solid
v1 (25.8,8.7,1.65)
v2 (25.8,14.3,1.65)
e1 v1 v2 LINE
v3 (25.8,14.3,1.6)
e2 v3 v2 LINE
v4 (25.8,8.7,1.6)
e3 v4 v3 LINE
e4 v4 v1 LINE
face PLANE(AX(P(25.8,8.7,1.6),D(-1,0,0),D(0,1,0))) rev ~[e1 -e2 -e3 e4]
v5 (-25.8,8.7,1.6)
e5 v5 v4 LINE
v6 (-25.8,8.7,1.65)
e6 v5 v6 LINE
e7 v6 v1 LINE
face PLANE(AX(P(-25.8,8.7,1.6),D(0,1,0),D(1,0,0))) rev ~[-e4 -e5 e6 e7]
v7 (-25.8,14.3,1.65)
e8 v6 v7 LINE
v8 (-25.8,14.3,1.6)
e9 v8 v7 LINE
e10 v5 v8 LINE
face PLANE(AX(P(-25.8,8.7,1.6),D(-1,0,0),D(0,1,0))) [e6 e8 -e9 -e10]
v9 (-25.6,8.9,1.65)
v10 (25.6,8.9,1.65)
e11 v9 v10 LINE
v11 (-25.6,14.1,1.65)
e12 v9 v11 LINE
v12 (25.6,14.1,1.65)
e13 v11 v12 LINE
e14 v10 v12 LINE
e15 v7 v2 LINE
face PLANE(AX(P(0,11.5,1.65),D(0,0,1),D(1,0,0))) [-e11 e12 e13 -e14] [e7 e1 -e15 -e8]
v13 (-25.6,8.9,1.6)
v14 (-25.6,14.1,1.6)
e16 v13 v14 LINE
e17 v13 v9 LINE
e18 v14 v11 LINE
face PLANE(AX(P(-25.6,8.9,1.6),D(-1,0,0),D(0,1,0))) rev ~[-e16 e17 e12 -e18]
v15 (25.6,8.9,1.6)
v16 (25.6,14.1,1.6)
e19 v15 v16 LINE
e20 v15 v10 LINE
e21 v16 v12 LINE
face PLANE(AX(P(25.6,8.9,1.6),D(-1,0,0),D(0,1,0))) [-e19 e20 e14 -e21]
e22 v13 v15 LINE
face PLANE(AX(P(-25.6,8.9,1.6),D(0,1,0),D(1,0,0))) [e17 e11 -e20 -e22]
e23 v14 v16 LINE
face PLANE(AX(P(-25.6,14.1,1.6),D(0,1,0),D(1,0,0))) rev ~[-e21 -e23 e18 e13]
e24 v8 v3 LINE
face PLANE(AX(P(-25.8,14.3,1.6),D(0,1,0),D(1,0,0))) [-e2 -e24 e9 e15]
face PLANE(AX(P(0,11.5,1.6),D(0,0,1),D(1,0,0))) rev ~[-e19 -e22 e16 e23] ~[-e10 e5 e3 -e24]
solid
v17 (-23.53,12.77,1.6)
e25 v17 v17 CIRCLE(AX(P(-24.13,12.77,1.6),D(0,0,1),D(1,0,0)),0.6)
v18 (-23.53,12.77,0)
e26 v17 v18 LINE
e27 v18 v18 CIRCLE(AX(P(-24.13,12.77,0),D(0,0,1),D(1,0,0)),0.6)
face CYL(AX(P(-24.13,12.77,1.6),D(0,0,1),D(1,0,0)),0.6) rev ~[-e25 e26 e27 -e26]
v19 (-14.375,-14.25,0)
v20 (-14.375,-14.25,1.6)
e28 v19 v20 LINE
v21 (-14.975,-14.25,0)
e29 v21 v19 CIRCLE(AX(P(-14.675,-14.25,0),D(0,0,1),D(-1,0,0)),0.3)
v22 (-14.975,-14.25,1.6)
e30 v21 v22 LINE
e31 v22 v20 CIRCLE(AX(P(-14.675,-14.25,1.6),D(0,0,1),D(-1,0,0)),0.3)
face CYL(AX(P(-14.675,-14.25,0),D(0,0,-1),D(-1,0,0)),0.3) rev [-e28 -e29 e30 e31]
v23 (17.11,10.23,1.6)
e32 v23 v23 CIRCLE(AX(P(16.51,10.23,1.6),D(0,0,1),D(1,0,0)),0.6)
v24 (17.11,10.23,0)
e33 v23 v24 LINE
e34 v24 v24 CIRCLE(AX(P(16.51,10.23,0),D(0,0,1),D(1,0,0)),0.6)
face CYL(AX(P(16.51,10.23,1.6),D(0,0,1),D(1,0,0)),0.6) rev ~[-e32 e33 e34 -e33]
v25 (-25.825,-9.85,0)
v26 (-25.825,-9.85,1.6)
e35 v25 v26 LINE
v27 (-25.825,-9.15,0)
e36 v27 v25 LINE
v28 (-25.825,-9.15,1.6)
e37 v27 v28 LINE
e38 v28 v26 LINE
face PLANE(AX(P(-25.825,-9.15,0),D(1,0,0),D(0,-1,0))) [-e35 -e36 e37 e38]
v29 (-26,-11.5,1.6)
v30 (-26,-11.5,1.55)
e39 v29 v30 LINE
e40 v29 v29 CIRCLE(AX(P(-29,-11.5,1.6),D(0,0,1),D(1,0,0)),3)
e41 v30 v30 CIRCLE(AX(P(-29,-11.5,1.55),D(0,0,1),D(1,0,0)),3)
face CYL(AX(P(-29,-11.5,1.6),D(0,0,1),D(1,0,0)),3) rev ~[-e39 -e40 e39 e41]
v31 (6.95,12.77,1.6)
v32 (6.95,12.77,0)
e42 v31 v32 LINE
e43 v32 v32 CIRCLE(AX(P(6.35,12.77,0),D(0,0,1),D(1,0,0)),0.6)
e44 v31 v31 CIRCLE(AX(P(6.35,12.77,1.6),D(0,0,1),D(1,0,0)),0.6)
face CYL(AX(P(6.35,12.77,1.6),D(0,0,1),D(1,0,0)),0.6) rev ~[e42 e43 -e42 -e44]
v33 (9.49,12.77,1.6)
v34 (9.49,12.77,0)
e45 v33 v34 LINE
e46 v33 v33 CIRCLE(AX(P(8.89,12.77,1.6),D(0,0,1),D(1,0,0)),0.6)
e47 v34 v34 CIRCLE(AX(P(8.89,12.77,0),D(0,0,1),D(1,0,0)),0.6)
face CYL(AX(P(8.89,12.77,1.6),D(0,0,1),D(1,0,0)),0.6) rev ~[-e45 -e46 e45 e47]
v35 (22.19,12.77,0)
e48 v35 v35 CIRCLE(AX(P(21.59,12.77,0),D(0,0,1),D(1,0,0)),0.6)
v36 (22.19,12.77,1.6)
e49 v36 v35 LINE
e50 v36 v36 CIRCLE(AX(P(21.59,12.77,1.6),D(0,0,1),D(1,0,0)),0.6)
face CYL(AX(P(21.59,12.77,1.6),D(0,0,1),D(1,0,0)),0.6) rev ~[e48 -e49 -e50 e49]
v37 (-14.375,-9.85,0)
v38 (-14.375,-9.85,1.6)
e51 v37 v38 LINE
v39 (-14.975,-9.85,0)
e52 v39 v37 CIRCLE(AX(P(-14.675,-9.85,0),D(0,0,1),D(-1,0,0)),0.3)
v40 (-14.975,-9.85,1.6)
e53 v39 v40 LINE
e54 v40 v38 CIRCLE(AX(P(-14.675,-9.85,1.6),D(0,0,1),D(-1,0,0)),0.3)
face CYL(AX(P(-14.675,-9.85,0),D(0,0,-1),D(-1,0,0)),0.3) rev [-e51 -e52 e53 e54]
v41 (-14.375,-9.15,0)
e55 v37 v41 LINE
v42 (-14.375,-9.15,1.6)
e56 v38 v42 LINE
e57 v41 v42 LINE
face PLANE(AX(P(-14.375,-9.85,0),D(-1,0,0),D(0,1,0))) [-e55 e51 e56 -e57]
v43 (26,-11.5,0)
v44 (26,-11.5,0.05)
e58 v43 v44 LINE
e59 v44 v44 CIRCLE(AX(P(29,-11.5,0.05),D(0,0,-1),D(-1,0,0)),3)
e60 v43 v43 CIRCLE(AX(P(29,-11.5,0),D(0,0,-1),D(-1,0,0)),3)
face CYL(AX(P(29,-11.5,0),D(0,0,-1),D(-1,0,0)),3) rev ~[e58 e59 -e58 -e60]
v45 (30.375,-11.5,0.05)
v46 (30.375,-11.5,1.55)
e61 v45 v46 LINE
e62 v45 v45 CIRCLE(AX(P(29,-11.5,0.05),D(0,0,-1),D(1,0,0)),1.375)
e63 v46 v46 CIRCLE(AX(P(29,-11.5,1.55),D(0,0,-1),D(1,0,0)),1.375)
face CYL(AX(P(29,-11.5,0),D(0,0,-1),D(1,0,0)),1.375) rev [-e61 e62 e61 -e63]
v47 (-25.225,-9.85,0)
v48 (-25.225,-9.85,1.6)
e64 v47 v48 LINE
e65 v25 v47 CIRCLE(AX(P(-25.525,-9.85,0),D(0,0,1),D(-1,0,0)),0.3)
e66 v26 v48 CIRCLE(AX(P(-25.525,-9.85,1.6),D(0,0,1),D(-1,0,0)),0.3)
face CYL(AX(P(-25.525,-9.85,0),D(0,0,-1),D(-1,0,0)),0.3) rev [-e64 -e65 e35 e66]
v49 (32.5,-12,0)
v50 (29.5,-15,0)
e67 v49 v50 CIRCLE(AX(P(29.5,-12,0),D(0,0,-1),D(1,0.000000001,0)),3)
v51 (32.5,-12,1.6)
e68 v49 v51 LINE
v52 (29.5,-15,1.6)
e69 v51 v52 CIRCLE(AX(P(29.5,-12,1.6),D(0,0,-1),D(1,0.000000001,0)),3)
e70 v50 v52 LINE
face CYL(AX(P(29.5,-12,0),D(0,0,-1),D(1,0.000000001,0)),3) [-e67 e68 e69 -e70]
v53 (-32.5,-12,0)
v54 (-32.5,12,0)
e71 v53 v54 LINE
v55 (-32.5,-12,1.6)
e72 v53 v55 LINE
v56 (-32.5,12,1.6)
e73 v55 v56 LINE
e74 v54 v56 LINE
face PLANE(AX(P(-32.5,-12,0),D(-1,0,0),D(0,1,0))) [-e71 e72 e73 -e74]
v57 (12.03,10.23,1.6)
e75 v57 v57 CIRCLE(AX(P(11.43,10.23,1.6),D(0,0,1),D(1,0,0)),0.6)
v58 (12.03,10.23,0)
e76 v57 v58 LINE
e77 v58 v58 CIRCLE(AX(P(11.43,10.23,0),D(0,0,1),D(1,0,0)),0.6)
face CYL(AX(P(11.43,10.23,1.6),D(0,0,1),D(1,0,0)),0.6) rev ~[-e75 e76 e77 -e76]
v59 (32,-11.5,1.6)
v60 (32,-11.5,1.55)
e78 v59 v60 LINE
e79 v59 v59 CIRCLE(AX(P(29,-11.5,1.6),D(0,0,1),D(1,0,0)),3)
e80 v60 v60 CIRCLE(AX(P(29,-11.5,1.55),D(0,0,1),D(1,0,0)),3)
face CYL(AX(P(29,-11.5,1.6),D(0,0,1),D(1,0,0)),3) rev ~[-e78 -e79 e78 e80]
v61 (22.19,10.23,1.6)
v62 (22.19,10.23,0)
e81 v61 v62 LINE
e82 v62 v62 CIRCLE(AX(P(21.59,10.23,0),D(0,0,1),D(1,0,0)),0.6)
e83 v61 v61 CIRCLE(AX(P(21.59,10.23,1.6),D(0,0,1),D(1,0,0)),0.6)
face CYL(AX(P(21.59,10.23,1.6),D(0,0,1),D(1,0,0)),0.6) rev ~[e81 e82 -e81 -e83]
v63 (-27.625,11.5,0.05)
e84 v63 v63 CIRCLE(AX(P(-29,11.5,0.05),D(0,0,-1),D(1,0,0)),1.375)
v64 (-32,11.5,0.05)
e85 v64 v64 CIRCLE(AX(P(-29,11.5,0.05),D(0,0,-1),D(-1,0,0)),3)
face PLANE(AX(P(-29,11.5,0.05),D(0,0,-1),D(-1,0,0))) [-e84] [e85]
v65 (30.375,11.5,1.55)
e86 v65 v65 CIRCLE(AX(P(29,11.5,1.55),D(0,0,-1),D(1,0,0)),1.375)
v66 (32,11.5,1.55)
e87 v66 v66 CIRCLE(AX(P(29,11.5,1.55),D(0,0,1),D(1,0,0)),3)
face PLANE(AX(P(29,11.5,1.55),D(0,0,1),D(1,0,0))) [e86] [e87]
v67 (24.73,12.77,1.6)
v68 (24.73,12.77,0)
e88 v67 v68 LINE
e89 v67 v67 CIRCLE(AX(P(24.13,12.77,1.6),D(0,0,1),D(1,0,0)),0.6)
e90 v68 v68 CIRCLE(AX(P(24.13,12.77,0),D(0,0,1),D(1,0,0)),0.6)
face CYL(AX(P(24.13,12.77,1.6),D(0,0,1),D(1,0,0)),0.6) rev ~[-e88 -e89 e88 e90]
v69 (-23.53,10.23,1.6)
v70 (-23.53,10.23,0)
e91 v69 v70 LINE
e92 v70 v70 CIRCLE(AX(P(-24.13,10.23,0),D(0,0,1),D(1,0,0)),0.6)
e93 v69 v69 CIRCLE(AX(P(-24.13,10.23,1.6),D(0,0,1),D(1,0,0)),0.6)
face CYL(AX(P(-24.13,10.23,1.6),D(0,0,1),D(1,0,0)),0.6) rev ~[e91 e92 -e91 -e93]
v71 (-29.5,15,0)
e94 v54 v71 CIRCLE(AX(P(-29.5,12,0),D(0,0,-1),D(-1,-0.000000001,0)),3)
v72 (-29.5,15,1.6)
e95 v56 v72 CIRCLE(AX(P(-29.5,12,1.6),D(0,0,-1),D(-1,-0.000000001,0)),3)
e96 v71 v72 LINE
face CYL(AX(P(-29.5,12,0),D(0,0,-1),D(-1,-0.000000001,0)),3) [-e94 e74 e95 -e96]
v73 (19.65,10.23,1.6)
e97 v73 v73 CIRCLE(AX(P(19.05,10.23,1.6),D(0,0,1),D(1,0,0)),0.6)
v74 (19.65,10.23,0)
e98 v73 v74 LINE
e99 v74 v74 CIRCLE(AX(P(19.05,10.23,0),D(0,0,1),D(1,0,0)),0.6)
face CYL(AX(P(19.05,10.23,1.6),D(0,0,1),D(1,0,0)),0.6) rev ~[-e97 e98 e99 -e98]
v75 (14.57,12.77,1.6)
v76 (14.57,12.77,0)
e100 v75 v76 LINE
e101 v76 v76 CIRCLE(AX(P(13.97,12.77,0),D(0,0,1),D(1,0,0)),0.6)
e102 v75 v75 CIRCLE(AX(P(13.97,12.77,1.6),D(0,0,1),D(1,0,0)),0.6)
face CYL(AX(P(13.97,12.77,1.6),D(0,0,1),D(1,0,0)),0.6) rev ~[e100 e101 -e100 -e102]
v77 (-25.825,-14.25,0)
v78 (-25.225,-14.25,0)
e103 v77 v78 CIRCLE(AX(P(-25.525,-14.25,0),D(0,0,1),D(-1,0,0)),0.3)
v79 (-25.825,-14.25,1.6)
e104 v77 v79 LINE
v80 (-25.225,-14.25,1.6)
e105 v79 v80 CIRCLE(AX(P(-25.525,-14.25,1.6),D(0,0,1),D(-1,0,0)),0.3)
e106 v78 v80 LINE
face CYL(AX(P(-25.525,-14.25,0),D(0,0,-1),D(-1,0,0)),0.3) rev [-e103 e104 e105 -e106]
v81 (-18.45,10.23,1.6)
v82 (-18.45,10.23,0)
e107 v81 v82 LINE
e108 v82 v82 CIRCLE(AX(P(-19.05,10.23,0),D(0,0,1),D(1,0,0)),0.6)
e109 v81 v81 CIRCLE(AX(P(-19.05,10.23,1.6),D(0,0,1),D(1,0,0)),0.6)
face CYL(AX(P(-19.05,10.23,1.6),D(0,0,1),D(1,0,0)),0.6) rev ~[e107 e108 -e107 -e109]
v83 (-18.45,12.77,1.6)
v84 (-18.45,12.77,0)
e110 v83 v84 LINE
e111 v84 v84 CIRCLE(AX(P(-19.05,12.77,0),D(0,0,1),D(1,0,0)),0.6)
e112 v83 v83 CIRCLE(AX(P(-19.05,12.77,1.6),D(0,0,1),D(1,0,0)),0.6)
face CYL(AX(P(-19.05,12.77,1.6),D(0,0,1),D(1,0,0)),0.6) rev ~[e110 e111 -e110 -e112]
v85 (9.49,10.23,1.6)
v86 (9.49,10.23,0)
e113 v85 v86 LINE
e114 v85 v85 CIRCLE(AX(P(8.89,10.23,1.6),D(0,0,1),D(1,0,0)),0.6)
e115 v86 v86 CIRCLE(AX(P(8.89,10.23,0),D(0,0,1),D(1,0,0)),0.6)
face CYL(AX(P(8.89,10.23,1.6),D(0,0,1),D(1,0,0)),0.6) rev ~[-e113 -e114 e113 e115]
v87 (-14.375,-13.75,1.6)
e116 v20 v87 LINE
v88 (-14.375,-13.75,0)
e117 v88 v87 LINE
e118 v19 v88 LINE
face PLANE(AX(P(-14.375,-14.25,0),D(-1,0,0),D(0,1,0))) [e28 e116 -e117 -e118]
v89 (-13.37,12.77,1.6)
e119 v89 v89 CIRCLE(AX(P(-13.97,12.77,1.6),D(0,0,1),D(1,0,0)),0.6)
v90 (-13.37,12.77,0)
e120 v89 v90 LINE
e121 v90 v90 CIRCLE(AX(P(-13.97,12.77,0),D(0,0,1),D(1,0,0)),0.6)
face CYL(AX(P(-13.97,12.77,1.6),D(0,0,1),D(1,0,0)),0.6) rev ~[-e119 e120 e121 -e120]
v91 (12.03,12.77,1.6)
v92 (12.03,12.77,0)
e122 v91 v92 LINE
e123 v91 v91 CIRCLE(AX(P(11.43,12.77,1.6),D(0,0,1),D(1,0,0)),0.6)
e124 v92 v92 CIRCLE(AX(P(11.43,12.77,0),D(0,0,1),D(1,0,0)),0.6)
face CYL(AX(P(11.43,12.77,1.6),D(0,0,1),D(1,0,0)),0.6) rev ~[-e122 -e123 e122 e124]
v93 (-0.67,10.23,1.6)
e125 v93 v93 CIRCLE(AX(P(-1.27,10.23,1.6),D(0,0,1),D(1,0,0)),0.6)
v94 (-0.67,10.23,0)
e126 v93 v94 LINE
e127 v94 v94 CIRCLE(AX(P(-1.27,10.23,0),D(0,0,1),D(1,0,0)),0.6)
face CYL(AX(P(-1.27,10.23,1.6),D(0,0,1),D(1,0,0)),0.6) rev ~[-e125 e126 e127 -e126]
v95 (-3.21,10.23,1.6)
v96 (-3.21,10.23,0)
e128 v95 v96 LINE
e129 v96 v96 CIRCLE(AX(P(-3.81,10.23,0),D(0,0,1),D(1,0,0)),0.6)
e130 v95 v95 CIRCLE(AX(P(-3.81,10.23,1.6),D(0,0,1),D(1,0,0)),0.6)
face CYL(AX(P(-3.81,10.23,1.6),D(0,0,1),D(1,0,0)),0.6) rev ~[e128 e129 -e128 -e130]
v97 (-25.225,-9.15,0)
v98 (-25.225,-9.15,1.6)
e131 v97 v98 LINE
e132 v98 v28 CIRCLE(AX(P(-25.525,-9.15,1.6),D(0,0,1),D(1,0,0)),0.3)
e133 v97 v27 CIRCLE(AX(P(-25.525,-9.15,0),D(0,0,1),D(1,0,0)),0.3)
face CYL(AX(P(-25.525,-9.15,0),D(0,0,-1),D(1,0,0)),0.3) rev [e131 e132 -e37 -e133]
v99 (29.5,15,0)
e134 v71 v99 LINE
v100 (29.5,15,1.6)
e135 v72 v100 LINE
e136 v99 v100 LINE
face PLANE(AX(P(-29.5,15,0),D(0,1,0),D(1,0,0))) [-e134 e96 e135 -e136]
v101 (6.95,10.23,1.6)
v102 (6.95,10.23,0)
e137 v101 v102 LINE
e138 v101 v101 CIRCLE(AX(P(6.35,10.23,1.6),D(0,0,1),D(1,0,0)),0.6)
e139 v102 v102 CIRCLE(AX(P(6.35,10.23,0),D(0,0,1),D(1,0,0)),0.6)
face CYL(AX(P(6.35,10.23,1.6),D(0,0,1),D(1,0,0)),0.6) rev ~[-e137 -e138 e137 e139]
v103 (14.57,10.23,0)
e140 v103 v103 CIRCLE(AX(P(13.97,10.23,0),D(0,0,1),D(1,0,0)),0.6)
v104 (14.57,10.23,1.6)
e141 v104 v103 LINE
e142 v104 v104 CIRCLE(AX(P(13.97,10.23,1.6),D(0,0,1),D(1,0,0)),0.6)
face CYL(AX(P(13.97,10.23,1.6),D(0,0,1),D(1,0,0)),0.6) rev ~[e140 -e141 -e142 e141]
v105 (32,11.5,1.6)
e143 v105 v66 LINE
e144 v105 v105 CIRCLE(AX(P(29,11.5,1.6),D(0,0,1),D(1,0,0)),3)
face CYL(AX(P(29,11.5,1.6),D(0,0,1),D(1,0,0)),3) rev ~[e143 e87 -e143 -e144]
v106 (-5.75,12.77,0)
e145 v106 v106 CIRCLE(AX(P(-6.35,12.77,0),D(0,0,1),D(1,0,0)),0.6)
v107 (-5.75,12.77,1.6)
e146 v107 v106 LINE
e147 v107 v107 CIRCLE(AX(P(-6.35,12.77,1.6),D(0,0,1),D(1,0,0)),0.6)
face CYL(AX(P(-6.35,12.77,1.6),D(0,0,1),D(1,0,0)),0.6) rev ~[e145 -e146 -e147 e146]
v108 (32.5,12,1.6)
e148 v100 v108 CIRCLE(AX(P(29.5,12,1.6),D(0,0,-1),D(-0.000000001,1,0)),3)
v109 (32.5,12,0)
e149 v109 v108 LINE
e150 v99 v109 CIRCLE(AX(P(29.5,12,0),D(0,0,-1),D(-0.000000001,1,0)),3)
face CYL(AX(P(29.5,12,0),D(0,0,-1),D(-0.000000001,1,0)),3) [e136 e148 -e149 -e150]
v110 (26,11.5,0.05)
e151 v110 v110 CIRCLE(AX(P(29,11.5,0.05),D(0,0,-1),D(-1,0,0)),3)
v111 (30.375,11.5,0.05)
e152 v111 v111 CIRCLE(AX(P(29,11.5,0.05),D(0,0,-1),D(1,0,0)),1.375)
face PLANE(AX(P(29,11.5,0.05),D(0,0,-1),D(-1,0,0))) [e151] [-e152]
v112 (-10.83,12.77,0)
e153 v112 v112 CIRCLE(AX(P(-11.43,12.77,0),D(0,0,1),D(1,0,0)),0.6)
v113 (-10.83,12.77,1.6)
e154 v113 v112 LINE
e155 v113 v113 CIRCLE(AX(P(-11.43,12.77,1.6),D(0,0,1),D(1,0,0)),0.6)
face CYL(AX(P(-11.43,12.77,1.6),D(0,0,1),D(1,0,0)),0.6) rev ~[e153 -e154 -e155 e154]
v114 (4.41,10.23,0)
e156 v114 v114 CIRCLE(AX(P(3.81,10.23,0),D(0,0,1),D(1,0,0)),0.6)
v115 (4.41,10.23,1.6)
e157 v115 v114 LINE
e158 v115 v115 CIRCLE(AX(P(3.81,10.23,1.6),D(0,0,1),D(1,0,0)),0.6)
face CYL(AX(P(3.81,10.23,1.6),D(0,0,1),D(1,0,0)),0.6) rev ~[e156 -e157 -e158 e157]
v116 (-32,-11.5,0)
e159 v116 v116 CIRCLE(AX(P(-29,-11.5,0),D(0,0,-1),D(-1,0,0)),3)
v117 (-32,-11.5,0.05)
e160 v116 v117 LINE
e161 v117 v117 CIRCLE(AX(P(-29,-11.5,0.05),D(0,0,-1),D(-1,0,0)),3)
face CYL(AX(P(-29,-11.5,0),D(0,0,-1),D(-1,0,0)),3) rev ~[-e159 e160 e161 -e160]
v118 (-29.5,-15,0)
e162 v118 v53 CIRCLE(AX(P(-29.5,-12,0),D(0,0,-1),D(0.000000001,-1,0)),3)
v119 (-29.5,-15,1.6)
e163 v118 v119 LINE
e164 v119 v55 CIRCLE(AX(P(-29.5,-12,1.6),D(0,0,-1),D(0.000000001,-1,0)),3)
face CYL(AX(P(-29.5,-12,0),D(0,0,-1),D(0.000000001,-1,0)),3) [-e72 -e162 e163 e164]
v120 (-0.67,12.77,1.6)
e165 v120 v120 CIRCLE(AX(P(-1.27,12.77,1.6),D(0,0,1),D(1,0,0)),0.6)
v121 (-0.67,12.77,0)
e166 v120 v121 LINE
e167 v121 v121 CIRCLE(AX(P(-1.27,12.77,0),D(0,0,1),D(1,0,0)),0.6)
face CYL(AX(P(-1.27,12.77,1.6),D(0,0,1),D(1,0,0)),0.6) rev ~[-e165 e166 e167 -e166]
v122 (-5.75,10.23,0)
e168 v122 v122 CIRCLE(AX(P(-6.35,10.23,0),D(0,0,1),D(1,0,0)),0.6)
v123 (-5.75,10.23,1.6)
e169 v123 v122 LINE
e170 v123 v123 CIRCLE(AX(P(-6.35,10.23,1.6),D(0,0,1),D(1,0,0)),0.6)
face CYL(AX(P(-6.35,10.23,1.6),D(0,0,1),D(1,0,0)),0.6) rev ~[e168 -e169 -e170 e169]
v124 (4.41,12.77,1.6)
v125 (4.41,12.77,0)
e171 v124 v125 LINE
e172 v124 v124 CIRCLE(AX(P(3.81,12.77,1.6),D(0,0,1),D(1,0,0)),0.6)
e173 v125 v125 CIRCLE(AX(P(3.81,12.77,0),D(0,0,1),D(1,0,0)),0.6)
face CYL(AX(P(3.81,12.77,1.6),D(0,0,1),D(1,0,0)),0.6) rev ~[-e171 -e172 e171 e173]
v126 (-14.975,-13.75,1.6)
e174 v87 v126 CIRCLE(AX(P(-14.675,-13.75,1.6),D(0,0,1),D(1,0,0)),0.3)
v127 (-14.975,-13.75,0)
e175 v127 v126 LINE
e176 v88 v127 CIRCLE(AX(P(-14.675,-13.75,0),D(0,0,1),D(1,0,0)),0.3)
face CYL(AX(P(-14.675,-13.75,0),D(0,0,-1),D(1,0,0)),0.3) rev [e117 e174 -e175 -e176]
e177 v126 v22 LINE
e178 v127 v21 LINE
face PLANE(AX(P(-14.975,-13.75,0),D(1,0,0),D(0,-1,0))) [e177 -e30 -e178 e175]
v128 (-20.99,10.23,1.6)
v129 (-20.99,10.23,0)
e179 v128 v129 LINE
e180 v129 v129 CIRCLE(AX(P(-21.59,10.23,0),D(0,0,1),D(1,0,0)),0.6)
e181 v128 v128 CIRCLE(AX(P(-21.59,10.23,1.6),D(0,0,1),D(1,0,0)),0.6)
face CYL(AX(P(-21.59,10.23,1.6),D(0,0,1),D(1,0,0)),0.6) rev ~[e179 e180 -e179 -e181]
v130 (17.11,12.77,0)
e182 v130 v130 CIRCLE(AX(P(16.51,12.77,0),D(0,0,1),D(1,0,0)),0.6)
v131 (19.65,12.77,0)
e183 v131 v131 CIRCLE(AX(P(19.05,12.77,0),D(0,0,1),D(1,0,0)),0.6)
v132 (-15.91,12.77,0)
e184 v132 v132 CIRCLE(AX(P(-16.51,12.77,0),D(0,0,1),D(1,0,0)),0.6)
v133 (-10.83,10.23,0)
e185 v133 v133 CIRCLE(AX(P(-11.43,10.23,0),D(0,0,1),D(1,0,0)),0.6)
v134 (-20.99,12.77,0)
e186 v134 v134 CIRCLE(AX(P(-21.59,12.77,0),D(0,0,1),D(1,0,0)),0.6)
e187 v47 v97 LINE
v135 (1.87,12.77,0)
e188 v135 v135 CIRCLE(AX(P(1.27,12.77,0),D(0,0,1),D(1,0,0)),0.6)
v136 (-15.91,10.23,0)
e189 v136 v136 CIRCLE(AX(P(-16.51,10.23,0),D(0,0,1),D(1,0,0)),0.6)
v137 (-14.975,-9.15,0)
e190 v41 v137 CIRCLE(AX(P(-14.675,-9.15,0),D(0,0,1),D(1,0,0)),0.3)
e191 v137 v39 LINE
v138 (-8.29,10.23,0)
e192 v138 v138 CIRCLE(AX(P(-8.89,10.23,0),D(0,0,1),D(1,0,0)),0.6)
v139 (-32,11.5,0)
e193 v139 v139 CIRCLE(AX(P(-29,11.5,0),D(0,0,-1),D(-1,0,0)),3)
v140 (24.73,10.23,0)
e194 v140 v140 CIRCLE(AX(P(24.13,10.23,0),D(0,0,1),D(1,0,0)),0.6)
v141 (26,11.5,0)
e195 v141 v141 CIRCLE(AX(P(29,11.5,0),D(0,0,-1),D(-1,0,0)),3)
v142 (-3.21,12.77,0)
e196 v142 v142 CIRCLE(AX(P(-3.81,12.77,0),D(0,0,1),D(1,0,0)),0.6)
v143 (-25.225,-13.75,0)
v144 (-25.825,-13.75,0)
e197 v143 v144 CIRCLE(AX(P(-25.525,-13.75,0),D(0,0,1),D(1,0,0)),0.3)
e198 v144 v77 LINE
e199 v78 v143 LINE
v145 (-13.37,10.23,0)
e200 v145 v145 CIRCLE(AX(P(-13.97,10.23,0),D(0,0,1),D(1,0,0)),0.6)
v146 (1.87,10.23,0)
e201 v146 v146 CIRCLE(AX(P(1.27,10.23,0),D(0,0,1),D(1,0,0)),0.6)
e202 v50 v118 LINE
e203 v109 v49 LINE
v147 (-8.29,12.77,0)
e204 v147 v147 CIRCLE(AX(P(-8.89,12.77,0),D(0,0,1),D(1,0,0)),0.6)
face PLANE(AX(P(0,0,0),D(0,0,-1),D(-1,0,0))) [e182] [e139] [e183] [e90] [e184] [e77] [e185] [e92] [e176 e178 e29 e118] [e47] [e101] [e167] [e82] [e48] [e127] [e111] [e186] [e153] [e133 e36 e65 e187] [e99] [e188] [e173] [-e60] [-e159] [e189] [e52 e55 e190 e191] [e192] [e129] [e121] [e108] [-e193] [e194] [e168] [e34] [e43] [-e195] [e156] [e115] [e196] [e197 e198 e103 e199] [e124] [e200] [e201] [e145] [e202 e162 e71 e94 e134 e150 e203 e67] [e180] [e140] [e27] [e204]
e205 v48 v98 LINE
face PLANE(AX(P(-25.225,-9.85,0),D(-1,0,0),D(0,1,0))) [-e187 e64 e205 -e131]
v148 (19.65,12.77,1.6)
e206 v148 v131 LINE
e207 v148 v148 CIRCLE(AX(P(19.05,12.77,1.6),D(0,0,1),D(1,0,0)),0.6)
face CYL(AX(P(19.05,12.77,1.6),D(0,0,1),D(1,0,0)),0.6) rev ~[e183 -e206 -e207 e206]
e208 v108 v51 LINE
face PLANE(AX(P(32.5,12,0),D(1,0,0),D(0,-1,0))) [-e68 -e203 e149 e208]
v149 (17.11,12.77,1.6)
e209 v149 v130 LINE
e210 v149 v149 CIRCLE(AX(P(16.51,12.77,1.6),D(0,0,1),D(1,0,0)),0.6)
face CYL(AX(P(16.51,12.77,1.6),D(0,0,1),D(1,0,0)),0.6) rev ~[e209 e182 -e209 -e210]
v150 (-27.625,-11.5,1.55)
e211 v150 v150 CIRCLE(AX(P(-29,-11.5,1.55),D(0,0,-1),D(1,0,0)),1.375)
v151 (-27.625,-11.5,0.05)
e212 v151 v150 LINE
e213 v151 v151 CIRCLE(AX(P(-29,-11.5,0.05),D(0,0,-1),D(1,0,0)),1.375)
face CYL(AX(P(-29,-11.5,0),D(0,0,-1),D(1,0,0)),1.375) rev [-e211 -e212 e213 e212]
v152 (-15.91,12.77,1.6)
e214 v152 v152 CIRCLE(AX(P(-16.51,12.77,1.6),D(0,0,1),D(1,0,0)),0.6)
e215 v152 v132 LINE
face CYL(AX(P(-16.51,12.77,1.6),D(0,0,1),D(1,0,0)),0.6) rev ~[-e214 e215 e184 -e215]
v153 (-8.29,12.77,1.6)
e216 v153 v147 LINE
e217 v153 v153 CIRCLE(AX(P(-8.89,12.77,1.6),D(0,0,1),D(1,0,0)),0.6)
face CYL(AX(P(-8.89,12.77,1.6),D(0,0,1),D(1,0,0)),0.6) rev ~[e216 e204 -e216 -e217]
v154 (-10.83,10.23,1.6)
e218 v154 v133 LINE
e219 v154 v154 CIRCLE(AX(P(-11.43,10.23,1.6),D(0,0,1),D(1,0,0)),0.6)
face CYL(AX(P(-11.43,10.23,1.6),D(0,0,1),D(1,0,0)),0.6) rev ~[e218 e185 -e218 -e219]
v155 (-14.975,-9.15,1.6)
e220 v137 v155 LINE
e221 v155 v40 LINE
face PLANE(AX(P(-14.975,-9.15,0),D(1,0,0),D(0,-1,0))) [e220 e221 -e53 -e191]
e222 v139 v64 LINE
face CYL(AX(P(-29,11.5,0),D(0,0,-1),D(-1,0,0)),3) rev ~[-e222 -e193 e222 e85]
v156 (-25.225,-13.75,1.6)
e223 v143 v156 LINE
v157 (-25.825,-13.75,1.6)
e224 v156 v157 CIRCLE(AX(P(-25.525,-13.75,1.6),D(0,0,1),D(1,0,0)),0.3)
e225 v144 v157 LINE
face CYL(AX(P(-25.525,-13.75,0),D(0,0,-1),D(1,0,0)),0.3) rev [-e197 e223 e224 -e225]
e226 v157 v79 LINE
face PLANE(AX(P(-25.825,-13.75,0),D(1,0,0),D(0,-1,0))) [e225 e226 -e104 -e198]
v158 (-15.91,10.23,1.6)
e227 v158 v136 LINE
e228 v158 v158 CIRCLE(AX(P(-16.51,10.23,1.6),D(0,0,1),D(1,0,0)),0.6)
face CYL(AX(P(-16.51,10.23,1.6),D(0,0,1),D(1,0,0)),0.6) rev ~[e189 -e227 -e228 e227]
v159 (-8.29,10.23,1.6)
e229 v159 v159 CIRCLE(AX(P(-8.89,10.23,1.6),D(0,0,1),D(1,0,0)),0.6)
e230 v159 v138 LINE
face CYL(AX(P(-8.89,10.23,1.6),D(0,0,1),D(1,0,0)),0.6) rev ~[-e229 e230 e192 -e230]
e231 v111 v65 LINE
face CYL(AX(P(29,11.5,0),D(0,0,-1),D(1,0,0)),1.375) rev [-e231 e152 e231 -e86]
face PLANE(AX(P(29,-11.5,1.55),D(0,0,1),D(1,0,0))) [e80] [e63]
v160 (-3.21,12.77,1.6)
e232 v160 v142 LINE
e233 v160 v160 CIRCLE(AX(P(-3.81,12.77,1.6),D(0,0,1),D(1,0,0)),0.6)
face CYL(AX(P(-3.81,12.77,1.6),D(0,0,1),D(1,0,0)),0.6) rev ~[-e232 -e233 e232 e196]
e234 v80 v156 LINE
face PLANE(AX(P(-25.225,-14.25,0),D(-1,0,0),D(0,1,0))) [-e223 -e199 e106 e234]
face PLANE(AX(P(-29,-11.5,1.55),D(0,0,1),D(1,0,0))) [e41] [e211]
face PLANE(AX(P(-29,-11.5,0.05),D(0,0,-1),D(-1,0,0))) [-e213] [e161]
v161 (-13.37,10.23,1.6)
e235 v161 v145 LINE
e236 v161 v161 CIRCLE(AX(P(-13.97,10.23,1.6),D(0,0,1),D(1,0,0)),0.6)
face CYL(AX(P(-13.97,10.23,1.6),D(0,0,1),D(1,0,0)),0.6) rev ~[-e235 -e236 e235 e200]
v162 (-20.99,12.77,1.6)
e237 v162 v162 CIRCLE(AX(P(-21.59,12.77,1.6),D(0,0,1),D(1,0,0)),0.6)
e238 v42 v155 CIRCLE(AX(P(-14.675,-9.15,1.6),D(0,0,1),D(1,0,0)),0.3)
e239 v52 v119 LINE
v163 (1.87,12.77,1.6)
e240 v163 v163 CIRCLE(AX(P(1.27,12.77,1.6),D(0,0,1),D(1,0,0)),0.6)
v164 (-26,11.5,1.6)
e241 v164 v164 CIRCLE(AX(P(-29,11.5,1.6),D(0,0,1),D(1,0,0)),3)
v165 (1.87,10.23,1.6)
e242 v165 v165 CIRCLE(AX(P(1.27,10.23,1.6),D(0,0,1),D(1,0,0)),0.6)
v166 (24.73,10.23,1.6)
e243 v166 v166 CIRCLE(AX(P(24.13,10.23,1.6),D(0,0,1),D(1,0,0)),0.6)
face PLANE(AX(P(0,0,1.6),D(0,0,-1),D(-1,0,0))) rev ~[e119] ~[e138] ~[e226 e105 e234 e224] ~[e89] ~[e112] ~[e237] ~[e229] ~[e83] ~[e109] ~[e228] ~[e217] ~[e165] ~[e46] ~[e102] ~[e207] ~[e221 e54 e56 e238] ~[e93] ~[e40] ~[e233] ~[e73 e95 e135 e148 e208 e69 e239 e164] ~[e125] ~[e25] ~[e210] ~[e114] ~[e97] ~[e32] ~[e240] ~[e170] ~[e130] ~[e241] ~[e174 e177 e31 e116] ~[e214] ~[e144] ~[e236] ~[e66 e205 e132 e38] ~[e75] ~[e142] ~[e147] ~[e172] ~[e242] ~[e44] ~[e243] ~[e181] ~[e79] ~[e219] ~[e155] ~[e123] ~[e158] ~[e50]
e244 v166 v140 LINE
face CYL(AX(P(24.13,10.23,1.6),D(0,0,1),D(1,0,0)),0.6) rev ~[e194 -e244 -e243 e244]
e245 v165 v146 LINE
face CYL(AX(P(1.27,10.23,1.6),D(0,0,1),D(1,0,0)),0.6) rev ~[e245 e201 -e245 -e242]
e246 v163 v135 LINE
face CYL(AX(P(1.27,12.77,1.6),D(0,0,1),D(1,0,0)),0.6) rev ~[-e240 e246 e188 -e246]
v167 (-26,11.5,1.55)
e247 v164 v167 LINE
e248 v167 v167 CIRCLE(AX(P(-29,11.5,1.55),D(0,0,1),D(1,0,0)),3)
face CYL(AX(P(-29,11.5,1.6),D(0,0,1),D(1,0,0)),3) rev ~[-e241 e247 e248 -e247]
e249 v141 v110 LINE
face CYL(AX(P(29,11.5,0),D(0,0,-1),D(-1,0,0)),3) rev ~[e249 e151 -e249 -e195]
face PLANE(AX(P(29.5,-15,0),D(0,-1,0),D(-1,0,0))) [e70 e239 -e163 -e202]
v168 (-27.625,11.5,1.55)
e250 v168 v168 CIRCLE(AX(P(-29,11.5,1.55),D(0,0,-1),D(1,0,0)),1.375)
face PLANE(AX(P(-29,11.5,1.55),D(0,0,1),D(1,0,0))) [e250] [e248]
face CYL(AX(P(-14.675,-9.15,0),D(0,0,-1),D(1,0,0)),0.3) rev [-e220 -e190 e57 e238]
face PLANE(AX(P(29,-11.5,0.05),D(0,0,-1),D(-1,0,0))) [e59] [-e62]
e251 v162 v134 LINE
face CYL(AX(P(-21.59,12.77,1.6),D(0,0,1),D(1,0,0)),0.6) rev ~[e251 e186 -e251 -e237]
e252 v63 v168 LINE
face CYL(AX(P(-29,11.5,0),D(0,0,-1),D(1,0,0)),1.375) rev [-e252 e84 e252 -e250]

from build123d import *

# Parameters (mm, degrees)
SKETCH1_R           = 1.375
BOSS_EXTRUDE1_DEPTH = 1.6
SKETCH2_W           = 51.6
SKETCH2_H           = 5.6
SKETCH2_W_2         = 51.2
SKETCH2_H_2         = 5.2
EXTRUDE_THIN1_DEPTH = 0.05
SKETCH3_R           = 0.6
CUT_EXTRUDE1_DEPTH  = 1.6
SKETCH4_R           = 3
CUT_EXTRUDE2_DEPTH  = 0.05
SKETCH5_R           = 3
CUT_EXTRUDE3_DEPTH  = 0.05
CUT_EXTRUDE4_DEPTH  = 1.6


with BuildPart() as part:
    # Sketch1 → Boss-Extrude1 (new body)
    with BuildSketch(Plane.XY):
        with BuildLine():
            Line((-29.5, 15), (29.5, 15))
            ThreePointArc((29.5, 15), (31.621320344, 14.121320344), (32.5, 12))
            Line((32.5, 12), (32.5, -12))
            ThreePointArc((32.5, -12), (31.621320344, -14.121320344), (29.5, -15))
            Line((29.5, -15), (-29.5, -15))
            ThreePointArc((-29.5, -15), (-31.621320344, -14.121320344), (-32.5, -12))
            Line((-32.5, -12), (-32.5, 12))
            ThreePointArc((-32.5, 12), (-31.621320344, 14.121320344), (-29.5, 15))
        make_face()
        with Locations((-29, 11.5)):
            Circle(SKETCH1_R, mode=Mode.SUBTRACT)
        with Locations((29, 11.5)):
            Circle(SKETCH1_R, mode=Mode.SUBTRACT)
        with Locations((29, -11.5)):
            Circle(SKETCH1_R, mode=Mode.SUBTRACT)
        with Locations((-29, -11.5)):
            Circle(SKETCH1_R, mode=Mode.SUBTRACT)
    extrude(amount=BOSS_EXTRUDE1_DEPTH)

    # Sketch3 → Cut-Extrude1 (cut)
    with BuildSketch(Plane.XY.offset(1.6)):
        with Locations((-1.27, 12.77)):
            Circle(SKETCH3_R)
        with Locations((-3.81, 12.77)):
            Circle(SKETCH3_R)
        with Locations((-6.35, 12.77)):
            Circle(SKETCH3_R)
        with Locations((-8.89, 12.77)):
            Circle(SKETCH3_R)
        with Locations((-11.43, 12.77)):
            Circle(SKETCH3_R)
        with Locations((-13.97, 12.77)):
            Circle(SKETCH3_R)
        with Locations((-16.51, 12.77)):
            Circle(SKETCH3_R)
        with Locations((-19.05, 12.77)):
            Circle(SKETCH3_R)
        with Locations((-21.59, 12.77)):
            Circle(SKETCH3_R)
        with Locations((-24.13, 12.77)):
            Circle(SKETCH3_R)
        with Locations((-24.13, 10.23)):
            Circle(SKETCH3_R)
        with Locations((-21.59, 10.23)):
            Circle(SKETCH3_R)
        with Locations((-19.05, 10.23)):
            Circle(SKETCH3_R)
        with Locations((-16.51, 10.23)):
            Circle(SKETCH3_R)
        with Locations((-13.97, 10.23)):
            Circle(SKETCH3_R)
        with Locations((-11.43, 10.23)):
            Circle(SKETCH3_R)
        with Locations((-8.89, 10.23)):
            Circle(SKETCH3_R)
        with Locations((-6.35, 10.23)):
            Circle(SKETCH3_R)
        with Locations((-3.81, 10.23)):
            Circle(SKETCH3_R)
        with Locations((-1.27, 10.23)):
            Circle(SKETCH3_R)
        with Locations((24.13, 10.23)):
            Circle(SKETCH3_R)
        with Locations((24.13, 12.77)):
            Circle(SKETCH3_R)
        with Locations((21.59, 12.77)):
            Circle(SKETCH3_R)
        with Locations((21.59, 10.23)):
            Circle(SKETCH3_R)
        with Locations((19.05, 10.23)):
            Circle(SKETCH3_R)
        with Locations((19.05, 12.77)):
            Circle(SKETCH3_R)
        with Locations((16.51, 12.77)):
            Circle(SKETCH3_R)
        with Locations((16.51, 10.23)):
            Circle(SKETCH3_R)
        with Locations((13.97, 10.23)):
            Circle(SKETCH3_R)
        with Locations((13.97, 12.77)):
            Circle(SKETCH3_R)
        with Locations((11.43, 12.77)):
            Circle(SKETCH3_R)
        with Locations((11.43, 10.23)):
            Circle(SKETCH3_R)
        with Locations((8.89, 10.23)):
            Circle(SKETCH3_R)
        with Locations((8.89, 12.77)):
            Circle(SKETCH3_R)
        with Locations((6.35, 12.77)):
            Circle(SKETCH3_R)
        with Locations((6.35, 10.23)):
            Circle(SKETCH3_R)
        with Locations((3.81, 10.23)):
            Circle(SKETCH3_R)
        with Locations((3.81, 12.77)):
            Circle(SKETCH3_R)
        with Locations((1.27, 12.77)):
            Circle(SKETCH3_R)
        with Locations((1.27, 10.23)):
            Circle(SKETCH3_R)
    extrude(amount=-CUT_EXTRUDE1_DEPTH, mode=Mode.SUBTRACT)

    # Sketch4 → Cut-Extrude2 (cut)
    with BuildSketch(Plane.XY.offset(1.6)):
        with Locations((-29, 11.5)):
            Circle(SKETCH4_R)
        with Locations((-29, -11.5)):
            Circle(SKETCH4_R)
        with Locations((29, -11.5)):
            Circle(SKETCH4_R)
        with Locations((29, 11.5)):
            Circle(SKETCH4_R)
    extrude(amount=-CUT_EXTRUDE2_DEPTH, mode=Mode.SUBTRACT)

    # Sketch5 → Cut-Extrude3 (cut)
    with BuildSketch(Plane(origin=(0, 0, 0), x_dir=(-1, 0, 0), z_dir=(0, 0, -1))):
        with Locations((-29, 11.5)):
            Circle(SKETCH5_R)
        with Locations((-29, -11.5)):
            Circle(SKETCH5_R)
        with Locations((29, -11.5)):
            Circle(SKETCH5_R)
        with Locations((29, 11.5)):
            Circle(SKETCH5_R)
    extrude(amount=-CUT_EXTRUDE3_DEPTH, mode=Mode.SUBTRACT)

    # Sketch6 → Cut-Extrude4 (cut)
    with BuildSketch(Plane(origin=(0, 0, 0), x_dir=(-1, 0, 0), z_dir=(0, 0, -1))):
        with BuildLine():
            Line((14.975, -9.15), (14.975, -9.85))
            ThreePointArc((14.975, -9.85), (14.675, -10.15), (14.375, -9.85))
            Line((14.375, -9.85), (14.375, -9.15))
            ThreePointArc((14.375, -9.15), (14.675, -8.85), (14.975, -9.15))
        make_face()
        with BuildLine():
            Line((14.975, -13.75), (14.975, -14.25))
            ThreePointArc((14.975, -14.25), (14.675, -14.55), (14.375, -14.25))
            Line((14.375, -14.25), (14.375, -13.75))
            ThreePointArc((14.375, -13.75), (14.675, -13.45), (14.975, -13.75))
        make_face()
        with BuildLine():
            Line((25.825, -9.15), (25.825, -9.85))
            ThreePointArc((25.825, -9.85), (25.525, -10.15), (25.225, -9.85))
            Line((25.225, -9.85), (25.225, -9.15))
            ThreePointArc((25.225, -9.15), (25.525, -8.85), (25.825, -9.15))
        make_face()
        with BuildLine():
            Line((25.825, -13.75), (25.825, -14.25))
            ThreePointArc((25.825, -14.25), (25.525, -14.55), (25.225, -14.25))
            Line((25.225, -14.25), (25.225, -13.75))
            ThreePointArc((25.225, -13.75), (25.525, -13.45), (25.825, -13.75))
        make_face()
    extrude(amount=-CUT_EXTRUDE4_DEPTH, mode=Mode.SUBTRACT)


with BuildPart() as body_2:
    # Sketch2 → Extrude-Thin1 (new body)
    with BuildSketch(Plane.XY.offset(1.6)):
        with Locations((0, 11.5)):
            Rectangle(SKETCH2_W, SKETCH2_H)
        with Locations((0, 11.5)):
            Rectangle(SKETCH2_W_2, SKETCH2_H_2, mode=Mode.SUBTRACT)
    extrude(amount=EXTRUDE_THIN1_DEPTH)


solid = Compound([part.part, body_2.part])
